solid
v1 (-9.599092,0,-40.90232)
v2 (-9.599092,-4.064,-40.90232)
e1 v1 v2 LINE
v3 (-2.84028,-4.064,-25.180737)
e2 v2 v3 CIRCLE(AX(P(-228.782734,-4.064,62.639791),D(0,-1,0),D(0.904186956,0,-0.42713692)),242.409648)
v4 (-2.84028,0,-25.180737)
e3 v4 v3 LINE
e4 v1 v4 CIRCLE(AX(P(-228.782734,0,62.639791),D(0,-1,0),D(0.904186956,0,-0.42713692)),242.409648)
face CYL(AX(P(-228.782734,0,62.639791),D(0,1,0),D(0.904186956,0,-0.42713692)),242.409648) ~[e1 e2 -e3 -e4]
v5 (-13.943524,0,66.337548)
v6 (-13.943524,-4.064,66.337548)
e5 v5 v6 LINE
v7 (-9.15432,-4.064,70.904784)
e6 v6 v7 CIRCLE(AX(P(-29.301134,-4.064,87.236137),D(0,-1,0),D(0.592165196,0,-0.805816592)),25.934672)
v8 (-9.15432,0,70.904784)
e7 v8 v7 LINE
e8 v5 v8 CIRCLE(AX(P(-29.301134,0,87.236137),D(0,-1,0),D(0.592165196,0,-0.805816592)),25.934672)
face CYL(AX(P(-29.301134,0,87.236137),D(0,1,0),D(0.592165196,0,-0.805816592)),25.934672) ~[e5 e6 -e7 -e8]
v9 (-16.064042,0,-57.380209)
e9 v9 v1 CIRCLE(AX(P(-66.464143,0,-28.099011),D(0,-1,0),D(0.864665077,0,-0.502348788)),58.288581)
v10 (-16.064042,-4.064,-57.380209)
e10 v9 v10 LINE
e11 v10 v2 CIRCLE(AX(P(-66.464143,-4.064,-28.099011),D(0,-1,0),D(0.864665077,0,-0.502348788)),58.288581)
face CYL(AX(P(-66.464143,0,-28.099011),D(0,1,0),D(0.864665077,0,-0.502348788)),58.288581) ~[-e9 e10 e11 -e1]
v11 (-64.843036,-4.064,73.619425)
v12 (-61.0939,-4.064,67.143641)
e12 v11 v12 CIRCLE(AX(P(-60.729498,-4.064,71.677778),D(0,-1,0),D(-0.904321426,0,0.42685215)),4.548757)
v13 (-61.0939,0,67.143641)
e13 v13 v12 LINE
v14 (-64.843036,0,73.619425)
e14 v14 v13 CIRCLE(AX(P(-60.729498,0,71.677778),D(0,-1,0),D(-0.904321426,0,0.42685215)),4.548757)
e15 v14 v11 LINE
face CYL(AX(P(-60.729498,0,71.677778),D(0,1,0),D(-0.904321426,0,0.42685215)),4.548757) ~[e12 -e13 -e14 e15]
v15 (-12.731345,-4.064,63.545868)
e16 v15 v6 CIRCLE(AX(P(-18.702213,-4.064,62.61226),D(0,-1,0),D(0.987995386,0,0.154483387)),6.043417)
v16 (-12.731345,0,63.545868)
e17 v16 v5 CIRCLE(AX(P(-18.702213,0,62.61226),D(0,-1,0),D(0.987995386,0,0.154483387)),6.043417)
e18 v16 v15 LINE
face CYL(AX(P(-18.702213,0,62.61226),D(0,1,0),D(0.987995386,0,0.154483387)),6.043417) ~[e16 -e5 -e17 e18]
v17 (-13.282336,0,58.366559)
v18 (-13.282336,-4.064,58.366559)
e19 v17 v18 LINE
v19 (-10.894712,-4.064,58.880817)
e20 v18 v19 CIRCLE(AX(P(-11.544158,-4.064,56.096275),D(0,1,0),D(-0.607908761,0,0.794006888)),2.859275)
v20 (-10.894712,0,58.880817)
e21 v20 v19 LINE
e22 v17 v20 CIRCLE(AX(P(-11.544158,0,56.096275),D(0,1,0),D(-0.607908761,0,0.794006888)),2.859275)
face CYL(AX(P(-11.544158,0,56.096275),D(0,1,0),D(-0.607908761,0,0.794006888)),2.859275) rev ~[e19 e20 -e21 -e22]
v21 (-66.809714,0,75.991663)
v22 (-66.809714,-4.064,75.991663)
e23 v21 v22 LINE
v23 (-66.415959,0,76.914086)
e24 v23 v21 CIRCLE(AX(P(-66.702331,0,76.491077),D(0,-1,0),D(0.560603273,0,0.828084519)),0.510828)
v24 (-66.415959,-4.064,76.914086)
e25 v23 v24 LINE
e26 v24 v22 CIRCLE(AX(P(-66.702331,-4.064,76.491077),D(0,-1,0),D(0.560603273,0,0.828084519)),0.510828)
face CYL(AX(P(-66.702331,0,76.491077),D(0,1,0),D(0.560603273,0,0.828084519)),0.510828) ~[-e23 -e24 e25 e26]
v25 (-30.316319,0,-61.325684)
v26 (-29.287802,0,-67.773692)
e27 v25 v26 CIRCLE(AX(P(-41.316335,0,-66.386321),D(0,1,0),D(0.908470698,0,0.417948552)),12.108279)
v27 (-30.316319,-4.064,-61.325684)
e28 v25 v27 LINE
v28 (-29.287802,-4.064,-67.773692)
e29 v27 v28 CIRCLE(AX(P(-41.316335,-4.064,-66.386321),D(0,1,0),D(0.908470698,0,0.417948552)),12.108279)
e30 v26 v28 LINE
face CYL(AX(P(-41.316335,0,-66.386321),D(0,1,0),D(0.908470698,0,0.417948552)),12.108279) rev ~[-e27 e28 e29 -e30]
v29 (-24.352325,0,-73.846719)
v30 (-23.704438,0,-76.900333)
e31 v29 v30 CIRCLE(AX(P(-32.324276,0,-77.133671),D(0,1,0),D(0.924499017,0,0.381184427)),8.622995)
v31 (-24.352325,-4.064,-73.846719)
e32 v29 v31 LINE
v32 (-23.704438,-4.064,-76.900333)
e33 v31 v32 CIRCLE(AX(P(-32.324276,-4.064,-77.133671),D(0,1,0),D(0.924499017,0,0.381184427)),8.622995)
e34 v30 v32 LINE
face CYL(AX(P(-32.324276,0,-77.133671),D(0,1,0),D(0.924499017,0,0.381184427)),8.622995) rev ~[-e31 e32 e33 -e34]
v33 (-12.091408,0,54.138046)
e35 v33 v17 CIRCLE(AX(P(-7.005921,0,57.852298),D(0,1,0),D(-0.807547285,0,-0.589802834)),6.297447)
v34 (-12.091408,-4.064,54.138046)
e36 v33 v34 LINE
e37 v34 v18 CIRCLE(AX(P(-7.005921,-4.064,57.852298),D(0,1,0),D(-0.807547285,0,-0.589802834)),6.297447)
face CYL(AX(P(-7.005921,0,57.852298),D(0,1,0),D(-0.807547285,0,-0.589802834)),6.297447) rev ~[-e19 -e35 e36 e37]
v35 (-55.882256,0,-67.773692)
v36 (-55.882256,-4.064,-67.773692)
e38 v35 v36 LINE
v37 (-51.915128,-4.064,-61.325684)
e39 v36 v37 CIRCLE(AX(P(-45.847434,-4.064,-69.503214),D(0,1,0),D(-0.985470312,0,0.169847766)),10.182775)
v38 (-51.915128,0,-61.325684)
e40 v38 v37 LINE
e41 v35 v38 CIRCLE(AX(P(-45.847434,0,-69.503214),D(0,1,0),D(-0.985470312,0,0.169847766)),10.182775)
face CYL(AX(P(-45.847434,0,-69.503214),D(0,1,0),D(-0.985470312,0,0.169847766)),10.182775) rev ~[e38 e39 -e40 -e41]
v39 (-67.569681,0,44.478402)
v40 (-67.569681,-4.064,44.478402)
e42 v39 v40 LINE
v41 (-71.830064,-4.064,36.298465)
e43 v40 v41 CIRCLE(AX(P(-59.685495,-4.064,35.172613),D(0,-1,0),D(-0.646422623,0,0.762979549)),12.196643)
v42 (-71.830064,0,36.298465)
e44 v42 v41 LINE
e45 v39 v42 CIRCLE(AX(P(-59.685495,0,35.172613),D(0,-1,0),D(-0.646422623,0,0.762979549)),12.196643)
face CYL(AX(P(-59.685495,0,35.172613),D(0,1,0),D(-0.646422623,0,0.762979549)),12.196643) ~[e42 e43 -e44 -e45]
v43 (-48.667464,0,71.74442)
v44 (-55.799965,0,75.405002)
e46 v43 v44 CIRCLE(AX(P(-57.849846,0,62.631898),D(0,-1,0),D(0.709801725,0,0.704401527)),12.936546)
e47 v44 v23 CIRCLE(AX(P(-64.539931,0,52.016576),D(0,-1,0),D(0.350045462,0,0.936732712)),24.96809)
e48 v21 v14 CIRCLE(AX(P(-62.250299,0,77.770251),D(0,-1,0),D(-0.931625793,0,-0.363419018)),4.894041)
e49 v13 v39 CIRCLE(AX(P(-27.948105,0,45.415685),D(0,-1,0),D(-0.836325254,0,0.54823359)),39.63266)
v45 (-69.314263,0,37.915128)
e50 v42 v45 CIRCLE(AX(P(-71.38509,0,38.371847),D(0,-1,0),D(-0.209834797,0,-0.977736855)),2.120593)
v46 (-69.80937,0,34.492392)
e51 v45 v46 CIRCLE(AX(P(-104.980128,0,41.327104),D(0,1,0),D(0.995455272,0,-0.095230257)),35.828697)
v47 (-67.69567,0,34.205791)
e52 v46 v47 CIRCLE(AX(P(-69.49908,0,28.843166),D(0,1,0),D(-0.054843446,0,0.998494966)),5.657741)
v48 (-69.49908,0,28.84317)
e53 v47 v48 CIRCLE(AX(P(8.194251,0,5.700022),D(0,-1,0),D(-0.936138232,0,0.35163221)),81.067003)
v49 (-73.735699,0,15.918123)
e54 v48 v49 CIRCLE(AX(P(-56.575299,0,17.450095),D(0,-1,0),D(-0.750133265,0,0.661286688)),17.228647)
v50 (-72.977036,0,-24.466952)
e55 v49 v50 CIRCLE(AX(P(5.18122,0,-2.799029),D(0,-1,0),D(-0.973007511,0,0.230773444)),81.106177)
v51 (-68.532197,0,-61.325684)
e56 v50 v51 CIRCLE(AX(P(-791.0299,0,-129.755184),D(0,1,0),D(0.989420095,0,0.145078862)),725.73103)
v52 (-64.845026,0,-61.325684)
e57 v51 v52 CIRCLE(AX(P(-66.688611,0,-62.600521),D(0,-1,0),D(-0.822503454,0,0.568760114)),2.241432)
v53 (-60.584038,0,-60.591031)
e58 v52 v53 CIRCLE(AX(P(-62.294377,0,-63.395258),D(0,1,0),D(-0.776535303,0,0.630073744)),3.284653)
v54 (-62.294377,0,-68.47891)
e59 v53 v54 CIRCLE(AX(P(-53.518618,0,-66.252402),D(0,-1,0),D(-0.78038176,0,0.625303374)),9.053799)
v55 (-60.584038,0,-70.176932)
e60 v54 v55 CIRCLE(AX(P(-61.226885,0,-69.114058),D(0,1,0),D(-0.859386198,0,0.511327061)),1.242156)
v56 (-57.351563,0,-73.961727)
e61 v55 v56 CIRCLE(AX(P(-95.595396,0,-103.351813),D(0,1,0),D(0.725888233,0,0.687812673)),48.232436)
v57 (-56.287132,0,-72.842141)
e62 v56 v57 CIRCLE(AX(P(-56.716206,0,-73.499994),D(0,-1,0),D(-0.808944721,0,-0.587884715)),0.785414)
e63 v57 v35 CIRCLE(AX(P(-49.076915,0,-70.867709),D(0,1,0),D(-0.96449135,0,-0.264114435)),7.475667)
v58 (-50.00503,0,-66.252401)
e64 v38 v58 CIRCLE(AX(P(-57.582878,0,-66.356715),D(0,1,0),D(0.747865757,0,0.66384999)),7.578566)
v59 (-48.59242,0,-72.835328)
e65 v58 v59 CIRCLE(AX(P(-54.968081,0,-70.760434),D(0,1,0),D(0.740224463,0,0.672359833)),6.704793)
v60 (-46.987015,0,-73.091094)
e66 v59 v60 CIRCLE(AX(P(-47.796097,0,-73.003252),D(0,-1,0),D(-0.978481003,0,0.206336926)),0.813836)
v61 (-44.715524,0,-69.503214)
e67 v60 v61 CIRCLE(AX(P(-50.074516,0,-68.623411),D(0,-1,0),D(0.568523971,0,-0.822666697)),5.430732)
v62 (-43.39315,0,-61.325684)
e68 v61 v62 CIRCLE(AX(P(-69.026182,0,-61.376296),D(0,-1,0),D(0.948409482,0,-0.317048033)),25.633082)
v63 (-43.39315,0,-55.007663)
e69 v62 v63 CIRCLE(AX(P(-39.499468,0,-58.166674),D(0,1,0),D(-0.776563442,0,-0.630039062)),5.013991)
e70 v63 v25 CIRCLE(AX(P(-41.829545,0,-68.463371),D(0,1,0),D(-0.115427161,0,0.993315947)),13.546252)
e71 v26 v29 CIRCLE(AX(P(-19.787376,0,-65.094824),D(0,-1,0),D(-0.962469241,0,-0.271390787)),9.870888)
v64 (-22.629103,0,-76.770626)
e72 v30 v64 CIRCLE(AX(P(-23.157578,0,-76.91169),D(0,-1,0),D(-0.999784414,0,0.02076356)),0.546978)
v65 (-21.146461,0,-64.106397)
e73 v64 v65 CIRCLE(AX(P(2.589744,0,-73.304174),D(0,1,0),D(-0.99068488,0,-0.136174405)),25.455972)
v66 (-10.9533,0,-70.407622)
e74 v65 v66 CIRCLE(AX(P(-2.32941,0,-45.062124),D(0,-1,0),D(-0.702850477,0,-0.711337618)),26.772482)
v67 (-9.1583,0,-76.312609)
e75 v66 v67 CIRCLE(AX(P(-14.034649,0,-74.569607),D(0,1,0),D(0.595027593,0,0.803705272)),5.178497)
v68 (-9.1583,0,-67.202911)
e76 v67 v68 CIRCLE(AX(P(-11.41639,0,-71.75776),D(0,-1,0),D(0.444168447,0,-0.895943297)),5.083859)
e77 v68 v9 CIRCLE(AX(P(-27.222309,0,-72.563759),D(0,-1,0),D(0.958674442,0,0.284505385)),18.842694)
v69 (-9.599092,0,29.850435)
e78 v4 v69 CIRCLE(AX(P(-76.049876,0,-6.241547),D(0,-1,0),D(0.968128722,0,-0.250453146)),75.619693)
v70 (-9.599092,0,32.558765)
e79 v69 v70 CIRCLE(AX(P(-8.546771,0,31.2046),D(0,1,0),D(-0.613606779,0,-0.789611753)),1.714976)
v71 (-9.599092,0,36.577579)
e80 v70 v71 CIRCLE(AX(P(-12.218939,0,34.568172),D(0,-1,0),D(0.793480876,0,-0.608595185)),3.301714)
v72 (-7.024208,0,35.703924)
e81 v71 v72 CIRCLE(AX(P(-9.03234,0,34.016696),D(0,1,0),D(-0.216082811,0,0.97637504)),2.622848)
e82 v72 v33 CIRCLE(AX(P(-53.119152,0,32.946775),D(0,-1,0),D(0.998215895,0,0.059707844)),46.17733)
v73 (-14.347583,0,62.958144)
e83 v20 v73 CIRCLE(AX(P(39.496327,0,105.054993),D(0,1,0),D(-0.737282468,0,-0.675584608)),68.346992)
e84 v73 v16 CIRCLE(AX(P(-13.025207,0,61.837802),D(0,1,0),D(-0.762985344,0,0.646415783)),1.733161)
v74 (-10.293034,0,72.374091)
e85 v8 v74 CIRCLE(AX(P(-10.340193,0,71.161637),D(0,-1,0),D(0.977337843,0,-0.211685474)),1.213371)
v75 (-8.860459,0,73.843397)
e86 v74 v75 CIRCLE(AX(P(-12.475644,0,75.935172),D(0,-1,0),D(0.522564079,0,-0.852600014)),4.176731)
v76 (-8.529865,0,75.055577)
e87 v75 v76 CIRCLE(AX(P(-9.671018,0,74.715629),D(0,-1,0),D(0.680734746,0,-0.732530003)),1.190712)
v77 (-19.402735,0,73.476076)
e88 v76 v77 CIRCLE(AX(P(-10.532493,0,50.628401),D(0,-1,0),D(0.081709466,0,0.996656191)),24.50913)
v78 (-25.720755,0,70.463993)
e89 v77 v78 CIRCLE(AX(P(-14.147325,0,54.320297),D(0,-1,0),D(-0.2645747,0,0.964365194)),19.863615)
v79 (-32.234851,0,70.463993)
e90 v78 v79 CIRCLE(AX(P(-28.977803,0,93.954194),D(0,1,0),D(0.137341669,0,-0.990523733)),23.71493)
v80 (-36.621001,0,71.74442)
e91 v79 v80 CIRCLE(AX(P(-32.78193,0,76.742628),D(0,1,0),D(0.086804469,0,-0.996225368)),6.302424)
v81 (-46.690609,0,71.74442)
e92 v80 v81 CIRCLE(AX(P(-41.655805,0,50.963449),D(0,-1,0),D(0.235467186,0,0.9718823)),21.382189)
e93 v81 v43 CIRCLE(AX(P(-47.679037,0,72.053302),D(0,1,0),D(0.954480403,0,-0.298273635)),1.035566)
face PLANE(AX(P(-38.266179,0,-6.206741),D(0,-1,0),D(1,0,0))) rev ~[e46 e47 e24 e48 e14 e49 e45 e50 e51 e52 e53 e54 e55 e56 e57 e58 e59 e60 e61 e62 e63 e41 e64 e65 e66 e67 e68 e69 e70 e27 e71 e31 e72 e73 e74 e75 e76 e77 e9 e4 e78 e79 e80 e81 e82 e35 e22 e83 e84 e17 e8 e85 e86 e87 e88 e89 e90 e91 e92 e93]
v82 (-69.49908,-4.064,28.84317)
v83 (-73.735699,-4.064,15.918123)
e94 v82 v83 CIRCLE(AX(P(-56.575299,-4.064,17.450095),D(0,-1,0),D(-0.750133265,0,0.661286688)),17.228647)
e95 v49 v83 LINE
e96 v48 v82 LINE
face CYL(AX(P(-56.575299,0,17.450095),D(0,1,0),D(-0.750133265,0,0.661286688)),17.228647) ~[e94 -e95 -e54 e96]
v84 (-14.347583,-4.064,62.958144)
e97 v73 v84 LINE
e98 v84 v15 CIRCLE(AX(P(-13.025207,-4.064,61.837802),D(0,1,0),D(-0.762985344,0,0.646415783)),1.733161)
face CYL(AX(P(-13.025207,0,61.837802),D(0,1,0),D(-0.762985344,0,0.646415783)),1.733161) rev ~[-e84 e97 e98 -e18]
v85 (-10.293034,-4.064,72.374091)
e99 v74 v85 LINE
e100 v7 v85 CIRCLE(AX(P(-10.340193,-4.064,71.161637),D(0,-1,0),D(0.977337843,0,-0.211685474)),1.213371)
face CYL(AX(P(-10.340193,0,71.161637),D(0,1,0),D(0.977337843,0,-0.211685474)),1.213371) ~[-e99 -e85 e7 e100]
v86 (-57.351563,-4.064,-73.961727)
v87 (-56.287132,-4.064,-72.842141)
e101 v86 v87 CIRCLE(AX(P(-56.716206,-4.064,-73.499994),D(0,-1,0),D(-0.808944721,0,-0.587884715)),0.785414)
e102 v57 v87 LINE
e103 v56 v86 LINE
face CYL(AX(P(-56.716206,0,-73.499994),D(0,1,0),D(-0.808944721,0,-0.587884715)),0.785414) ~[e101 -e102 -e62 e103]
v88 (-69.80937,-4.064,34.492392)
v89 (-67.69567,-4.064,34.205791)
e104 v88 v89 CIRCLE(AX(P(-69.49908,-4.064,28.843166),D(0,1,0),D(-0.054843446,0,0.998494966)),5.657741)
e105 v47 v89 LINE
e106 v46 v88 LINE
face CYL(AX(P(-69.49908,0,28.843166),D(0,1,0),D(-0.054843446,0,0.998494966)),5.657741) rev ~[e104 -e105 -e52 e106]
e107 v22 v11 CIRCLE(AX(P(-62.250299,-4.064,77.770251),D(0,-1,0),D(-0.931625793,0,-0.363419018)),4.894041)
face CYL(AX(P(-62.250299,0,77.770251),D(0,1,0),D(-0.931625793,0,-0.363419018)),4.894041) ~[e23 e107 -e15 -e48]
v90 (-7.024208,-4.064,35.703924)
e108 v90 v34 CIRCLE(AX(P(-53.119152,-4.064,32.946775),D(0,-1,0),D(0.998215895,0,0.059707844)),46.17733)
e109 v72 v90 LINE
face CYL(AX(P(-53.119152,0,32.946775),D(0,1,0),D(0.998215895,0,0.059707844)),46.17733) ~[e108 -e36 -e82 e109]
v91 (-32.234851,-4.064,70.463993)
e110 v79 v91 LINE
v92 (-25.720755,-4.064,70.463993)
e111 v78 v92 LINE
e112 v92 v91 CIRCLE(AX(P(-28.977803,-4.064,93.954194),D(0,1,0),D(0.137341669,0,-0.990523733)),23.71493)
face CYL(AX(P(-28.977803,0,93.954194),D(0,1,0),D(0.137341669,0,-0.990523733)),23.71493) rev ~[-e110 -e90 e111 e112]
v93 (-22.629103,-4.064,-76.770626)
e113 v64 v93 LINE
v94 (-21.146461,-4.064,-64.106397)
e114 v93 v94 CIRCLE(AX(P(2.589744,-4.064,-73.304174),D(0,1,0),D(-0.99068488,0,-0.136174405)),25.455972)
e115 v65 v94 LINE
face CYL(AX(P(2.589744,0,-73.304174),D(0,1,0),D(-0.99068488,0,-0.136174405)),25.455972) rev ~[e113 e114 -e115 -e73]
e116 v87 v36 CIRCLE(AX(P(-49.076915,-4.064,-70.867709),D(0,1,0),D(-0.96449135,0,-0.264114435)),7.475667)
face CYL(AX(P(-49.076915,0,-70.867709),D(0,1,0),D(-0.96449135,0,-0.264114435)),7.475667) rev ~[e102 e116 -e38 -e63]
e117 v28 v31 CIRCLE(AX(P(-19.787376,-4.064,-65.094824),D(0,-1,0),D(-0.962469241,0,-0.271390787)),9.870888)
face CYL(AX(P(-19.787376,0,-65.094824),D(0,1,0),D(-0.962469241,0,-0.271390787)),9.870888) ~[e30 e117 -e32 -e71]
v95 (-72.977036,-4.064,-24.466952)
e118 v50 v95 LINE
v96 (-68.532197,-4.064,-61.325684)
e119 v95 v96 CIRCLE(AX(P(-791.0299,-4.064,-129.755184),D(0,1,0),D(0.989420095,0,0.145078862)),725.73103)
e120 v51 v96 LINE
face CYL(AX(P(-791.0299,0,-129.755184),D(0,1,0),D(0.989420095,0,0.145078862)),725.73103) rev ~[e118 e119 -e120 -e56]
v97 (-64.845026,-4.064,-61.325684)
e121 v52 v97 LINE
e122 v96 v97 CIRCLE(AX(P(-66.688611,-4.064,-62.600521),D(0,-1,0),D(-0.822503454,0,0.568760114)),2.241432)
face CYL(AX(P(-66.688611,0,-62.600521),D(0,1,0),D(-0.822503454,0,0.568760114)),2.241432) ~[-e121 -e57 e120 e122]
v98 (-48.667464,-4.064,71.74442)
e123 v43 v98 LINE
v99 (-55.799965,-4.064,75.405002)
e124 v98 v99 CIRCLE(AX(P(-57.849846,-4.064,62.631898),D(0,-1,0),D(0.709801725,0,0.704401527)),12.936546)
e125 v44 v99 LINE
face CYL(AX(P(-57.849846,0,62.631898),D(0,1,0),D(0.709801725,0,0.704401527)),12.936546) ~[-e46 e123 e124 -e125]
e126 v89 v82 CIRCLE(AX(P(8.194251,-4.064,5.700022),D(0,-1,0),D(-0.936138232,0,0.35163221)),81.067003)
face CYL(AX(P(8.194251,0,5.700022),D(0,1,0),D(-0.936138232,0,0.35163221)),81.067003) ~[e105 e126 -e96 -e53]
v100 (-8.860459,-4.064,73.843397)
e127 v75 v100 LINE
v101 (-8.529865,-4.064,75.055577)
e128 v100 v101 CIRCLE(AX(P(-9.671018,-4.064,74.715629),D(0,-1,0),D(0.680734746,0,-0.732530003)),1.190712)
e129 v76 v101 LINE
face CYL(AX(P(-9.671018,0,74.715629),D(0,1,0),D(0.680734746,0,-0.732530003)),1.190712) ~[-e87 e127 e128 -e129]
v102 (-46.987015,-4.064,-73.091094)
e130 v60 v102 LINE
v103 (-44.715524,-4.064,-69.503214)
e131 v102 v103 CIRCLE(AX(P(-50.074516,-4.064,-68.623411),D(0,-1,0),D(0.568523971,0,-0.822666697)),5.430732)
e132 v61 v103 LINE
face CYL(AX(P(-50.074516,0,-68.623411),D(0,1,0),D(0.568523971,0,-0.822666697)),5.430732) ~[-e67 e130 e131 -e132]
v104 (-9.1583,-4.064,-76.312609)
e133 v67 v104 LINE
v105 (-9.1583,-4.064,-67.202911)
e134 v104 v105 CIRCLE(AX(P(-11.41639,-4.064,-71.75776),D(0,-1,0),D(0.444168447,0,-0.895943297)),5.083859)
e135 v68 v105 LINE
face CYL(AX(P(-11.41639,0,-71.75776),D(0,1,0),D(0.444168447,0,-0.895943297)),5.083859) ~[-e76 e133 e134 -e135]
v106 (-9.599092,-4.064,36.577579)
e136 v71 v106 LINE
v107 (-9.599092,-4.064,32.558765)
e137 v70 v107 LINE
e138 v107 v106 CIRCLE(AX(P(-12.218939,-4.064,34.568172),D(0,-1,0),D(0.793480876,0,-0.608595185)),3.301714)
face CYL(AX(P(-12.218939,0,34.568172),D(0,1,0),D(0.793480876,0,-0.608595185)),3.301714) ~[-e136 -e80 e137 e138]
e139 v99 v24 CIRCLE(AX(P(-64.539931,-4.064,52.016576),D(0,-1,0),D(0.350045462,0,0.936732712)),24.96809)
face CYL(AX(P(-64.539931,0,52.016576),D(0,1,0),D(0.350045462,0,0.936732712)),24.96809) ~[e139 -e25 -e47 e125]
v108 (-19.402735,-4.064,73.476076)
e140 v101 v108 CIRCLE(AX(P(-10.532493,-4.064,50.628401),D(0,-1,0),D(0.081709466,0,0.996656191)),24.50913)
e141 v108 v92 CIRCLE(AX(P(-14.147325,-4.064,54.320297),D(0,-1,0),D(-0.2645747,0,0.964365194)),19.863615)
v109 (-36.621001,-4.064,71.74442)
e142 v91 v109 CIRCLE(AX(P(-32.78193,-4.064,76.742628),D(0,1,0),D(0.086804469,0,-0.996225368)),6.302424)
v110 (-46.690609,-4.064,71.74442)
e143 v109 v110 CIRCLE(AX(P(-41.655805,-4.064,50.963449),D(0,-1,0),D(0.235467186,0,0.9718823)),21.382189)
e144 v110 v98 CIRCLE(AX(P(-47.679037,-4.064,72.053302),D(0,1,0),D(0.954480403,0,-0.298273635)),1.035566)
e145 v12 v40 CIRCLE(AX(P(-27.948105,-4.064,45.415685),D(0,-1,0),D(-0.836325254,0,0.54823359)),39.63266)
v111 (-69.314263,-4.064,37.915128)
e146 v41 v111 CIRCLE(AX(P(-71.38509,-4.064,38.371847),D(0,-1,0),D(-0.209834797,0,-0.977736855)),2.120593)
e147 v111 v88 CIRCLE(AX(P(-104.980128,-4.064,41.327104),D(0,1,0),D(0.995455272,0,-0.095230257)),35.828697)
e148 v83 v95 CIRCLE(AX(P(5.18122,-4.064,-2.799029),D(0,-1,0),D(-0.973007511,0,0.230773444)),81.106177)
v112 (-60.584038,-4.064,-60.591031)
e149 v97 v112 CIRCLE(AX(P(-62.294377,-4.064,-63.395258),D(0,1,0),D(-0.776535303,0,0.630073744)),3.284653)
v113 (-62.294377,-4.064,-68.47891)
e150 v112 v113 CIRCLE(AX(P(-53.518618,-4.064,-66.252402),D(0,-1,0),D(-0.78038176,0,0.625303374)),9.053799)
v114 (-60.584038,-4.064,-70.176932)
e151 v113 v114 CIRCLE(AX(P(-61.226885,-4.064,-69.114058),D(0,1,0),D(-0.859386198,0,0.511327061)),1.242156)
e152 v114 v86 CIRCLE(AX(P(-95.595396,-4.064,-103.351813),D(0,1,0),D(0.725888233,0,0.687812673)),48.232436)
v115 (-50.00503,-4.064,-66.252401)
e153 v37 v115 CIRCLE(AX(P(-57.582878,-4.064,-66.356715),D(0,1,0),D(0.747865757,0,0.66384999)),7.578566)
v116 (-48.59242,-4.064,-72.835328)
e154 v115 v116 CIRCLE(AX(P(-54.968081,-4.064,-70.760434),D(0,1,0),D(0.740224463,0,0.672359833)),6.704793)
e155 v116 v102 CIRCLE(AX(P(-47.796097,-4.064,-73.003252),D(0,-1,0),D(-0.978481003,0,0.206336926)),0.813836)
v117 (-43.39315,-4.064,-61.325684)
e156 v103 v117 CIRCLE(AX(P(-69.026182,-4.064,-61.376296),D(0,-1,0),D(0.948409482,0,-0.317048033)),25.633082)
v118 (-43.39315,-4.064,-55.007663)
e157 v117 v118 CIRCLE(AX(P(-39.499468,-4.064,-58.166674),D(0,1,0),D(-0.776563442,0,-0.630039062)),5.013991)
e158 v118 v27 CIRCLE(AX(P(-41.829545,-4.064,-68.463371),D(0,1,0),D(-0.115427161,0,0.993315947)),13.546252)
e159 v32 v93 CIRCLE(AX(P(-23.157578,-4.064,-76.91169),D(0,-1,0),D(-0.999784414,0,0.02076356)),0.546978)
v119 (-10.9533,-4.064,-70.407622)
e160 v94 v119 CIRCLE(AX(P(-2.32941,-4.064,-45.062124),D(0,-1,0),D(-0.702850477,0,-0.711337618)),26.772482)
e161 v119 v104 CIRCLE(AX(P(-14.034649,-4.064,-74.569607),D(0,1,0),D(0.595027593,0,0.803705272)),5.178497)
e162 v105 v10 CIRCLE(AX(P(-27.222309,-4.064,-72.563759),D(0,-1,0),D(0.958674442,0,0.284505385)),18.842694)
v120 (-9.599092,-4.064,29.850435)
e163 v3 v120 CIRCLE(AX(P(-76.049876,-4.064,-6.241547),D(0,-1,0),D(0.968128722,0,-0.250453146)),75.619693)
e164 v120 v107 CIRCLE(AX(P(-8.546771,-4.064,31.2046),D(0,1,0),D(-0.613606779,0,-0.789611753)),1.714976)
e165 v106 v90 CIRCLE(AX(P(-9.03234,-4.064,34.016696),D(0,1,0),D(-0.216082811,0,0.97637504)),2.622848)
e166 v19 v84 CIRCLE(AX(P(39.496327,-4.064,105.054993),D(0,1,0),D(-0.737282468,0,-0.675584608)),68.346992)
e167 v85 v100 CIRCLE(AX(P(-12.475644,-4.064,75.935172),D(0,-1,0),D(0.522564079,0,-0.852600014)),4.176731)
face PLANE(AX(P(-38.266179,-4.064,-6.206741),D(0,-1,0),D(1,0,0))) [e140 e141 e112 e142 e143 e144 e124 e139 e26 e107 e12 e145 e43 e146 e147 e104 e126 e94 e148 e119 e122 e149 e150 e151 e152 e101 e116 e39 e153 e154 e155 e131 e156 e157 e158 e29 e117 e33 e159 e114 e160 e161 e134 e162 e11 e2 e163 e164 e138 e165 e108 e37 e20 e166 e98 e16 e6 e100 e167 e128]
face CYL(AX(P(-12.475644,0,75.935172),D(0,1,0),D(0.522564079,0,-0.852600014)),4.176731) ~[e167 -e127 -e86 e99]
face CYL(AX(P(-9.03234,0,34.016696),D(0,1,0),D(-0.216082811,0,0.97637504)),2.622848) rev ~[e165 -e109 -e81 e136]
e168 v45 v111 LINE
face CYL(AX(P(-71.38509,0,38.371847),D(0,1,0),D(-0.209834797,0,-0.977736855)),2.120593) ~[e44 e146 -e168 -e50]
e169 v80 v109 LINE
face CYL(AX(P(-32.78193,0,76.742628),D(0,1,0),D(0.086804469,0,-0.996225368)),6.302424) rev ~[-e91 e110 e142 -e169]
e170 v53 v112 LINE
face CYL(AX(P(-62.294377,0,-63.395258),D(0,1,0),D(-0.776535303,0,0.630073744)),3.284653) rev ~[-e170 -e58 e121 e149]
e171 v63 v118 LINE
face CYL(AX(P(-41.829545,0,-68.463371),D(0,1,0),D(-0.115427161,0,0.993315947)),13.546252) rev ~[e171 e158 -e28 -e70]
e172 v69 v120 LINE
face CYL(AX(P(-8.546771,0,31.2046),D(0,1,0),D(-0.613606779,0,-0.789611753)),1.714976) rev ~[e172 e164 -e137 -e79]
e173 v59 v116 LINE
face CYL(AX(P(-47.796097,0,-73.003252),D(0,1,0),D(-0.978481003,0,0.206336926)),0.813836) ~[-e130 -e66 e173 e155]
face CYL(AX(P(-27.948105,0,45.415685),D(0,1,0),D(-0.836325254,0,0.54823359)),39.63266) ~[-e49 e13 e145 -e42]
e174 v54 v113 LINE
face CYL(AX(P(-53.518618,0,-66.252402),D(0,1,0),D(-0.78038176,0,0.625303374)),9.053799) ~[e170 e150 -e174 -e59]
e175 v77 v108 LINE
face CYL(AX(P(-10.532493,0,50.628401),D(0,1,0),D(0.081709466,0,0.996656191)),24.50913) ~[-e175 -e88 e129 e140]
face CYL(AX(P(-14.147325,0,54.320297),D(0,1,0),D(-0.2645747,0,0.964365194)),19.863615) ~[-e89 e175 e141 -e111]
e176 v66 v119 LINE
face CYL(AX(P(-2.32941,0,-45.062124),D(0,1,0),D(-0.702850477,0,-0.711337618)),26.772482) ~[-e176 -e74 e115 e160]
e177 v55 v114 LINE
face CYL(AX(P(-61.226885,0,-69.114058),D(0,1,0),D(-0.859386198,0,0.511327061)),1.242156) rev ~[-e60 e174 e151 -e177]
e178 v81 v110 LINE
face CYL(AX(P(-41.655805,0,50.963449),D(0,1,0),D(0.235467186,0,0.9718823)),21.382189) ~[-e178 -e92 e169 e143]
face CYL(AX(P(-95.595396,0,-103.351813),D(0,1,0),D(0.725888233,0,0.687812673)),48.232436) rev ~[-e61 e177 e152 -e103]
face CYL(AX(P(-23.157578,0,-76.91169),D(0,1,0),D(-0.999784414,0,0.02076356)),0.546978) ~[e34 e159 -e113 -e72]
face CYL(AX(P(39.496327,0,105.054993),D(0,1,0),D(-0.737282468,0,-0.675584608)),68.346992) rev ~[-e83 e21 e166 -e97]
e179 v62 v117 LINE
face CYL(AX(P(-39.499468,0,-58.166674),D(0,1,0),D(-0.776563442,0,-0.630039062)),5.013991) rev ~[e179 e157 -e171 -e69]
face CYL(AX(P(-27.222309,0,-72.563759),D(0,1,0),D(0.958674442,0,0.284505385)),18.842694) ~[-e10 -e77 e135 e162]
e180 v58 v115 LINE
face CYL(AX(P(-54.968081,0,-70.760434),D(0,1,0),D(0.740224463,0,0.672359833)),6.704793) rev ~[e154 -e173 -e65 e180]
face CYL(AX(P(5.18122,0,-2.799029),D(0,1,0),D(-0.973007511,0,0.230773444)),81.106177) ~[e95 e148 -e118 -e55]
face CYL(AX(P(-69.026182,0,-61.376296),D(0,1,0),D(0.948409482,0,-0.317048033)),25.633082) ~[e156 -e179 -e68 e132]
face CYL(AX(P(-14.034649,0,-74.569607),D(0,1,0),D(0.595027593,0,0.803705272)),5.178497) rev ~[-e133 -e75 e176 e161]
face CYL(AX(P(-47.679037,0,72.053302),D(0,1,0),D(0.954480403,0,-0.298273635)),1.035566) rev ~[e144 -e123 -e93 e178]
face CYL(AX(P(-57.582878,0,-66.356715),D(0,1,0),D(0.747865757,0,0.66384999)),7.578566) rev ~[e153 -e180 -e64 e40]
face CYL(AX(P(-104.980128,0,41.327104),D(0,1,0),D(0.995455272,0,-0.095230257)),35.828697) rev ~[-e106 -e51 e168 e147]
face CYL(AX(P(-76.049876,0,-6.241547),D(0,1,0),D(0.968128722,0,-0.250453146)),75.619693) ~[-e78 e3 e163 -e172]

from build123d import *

# Parameters (mm, degrees)
F1_DEPTH = 4.064


with BuildPart() as f1:
    # F0 (on Front) → F1 (new body)
    with BuildSketch(Plane.XZ):
        with BuildLine():
            ThreePointArc((-66.415959, 76.914086), (-67.172145, 76.691627), (-66.809714, 75.991663))
            ThreePointArc((-66.809714, 75.991663), (-66.017951, 74.646721), (-64.843036, 73.619425))
            ThreePointArc((-64.843036, 73.619425), (-64.666112, 69.398687), (-61.0939, 67.143641))
            ThreePointArc((-61.0939, 67.143641), (-66.055858, 56.303612), (-67.569681, 44.478402))
            ThreePointArc((-67.569681, 44.478402), (-70.50287, 40.806661), (-71.830064, 36.298465))
            ThreePointArc((-71.830064, 36.298465), (-70.238683, 36.587844), (-69.314263, 37.915128))
            ThreePointArc((-69.314263, 37.915128), (-69.520495, 36.197783), (-69.80937, 34.492392))
            ThreePointArc((-69.80937, 34.492392), (-68.738891, 34.449604), (-67.69567, 34.205791))
            ThreePointArc((-67.69567, 34.205791), (-68.644172, 31.540218), (-69.49908, 28.84317))
            ThreePointArc((-69.49908, 28.84317), (-72.946881, 22.816432), (-73.735699, 15.918123))
            ThreePointArc((-73.735699, 15.918123), (-75.910649, -4.322399), (-72.977036, -24.466952))
            ThreePointArc((-72.977036, -24.466952), (-70.518883, -42.867891), (-68.532197, -61.325684))
            ThreePointArc((-68.532197, -61.325684), (-66.688611, -64.841953), (-64.845026, -61.325684))
            ThreePointArc((-64.845026, -61.325684), (-62.852462, -60.158363), (-60.584038, -60.591031))
            ThreePointArc((-60.584038, -60.591031), (-62.366804, -64.333838), (-62.294377, -68.47891))
            ThreePointArc((-62.294377, -68.47891), (-60.351727, -68.232553), (-60.584038, -70.176932))
            ThreePointArc((-60.584038, -70.176932), (-58.918947, -72.027605), (-57.351563, -73.961727))
            ThreePointArc((-57.351563, -73.961727), (-56.146991, -74.041168), (-56.287132, -72.842141))
            ThreePointArc((-56.287132, -72.842141), (-56.528845, -70.272437), (-55.882256, -67.773692))
            ThreePointArc((-55.882256, -67.773692), (-54.520205, -64.167303), (-51.915128, -61.325684))
            ThreePointArc((-51.915128, -61.325684), (-50.51679, -63.617178), (-50.00503, -66.252401))
            ThreePointArc((-50.00503, -66.252401), (-48.412524, -69.353697), (-48.59242, -72.835328))
            ThreePointArc((-48.59242, -72.835328), (-47.924139, -73.806953), (-46.987015, -73.091094))
            ThreePointArc((-46.987015, -73.091094), (-45.486049, -71.528376), (-44.715524, -69.503214))
            ThreePointArc((-44.715524, -69.503214), (-43.721814, -65.468221), (-43.39315, -61.325684))
            ThreePointArc((-43.39315, -61.325684), (-44.513459, -58.166673), (-43.39315, -55.007663))
            ThreePointArc((-43.39315, -55.007663), (-35.936491, -56.266123), (-30.316319, -61.325684))
            ThreePointArc((-30.316319, -61.325684), (-29.359215, -64.47905), (-29.287802, -67.773692))
            ThreePointArc((-29.287802, -67.773692), (-27.447605, -71.320201), (-24.352325, -73.846719))
            ThreePointArc((-24.352325, -73.846719), (-23.889052, -75.343964), (-23.704438, -76.900333))
            ThreePointArc((-23.704438, -76.900333), (-23.092076, -77.454732), (-22.629103, -76.770626))
            ThreePointArc((-22.629103, -76.770626), (-22.69355, -70.344178), (-21.146461, -64.106397))
            ThreePointArc((-21.146461, -64.106397), (-16.406969, -67.834653), (-10.9533, -70.407622))
            ThreePointArc((-10.9533, -70.407622), (-9.080009, -73.063494), (-9.1583, -76.312609))
            ThreePointArc((-9.1583, -76.312609), (-6.332531, -71.75776), (-9.1583, -67.202911))
            ThreePointArc((-9.1583, -67.202911), (-11.807812, -61.726767), (-16.064042, -57.380209))
            ThreePointArc((-16.064042, -57.380209), (-12.202431, -49.388101), (-9.599092, -40.90232))
            ThreePointArc((-9.599092, -40.90232), (-6.08091, -33.101189), (-2.84028, -25.180737))
            ThreePointArc((-2.84028, -25.180737), (-0.994144, 2.976639), (-9.599092, 29.850435))
            ThreePointArc((-9.599092, 29.850435), (-10.261747, 31.2046), (-9.599092, 32.558765))
            ThreePointArc((-9.599092, 32.558765), (-8.917225, 34.568172), (-9.599092, 36.577579))
            ThreePointArc((-9.599092, 36.577579), (-8.189599, 36.500467), (-7.024208, 35.703924))
            ThreePointArc((-7.024208, 35.703924), (-8.593374, 45.18609), (-12.091408, 54.138046))
            ThreePointArc((-12.091408, 54.138046), (-13.067545, 56.145089), (-13.282336, 58.366559))
            ThreePointArc((-13.282336, 58.366559), (-12.146196, 58.89145), (-10.894712, 58.880817))
            ThreePointArc((-10.894712, 58.880817), (-12.661005, 60.885727), (-14.347583, 62.958144))
            ThreePointArc((-14.347583, 62.958144), (-13.617504, 63.466614), (-12.731345, 63.545868))
            ThreePointArc((-12.731345, 63.545868), (-13.158819, 65.019265), (-13.943524, 66.337548))
            ThreePointArc((-13.943524, 66.337548), (-11.402644, 68.467779), (-9.15432, 70.904784))
            ThreePointArc((-9.15432, 70.904784), (-9.381127, 71.904914), (-10.293034, 72.374091))
            ThreePointArc((-10.293034, 72.374091), (-9.485105, 73.019394), (-8.860459, 73.843397))
            ThreePointArc((-8.860459, 73.843397), (-8.522262, 74.402333), (-8.529865, 75.055577))
            ThreePointArc((-8.529865, 75.055577), (-14.055948, 74.882941), (-19.402735, 73.476076))
            ThreePointArc((-19.402735, 73.476076), (-22.695461, 72.250511), (-25.720755, 70.463993))
            ThreePointArc((-25.720755, 70.463993), (-28.977803, 70.239264), (-32.234851, 70.463993))
            ThreePointArc((-32.234851, 70.463993), (-34.548049, 70.692721), (-36.621001, 71.74442))
            ThreePointArc((-36.621001, 71.74442), (-41.655805, 72.345638), (-46.690609, 71.74442))
            ThreePointArc((-46.690609, 71.74442), (-47.679037, 71.017736), (-48.667464, 71.74442))
            ThreePointArc((-48.667464, 71.74442), (-51.942994, 74.141168), (-55.799965, 75.405002))
            ThreePointArc((-55.799965, 75.405002), (-61.025995, 76.736158), (-66.415959, 76.914086))
        make_face()
    extrude(amount=F1_DEPTH)


solid = f1.part
